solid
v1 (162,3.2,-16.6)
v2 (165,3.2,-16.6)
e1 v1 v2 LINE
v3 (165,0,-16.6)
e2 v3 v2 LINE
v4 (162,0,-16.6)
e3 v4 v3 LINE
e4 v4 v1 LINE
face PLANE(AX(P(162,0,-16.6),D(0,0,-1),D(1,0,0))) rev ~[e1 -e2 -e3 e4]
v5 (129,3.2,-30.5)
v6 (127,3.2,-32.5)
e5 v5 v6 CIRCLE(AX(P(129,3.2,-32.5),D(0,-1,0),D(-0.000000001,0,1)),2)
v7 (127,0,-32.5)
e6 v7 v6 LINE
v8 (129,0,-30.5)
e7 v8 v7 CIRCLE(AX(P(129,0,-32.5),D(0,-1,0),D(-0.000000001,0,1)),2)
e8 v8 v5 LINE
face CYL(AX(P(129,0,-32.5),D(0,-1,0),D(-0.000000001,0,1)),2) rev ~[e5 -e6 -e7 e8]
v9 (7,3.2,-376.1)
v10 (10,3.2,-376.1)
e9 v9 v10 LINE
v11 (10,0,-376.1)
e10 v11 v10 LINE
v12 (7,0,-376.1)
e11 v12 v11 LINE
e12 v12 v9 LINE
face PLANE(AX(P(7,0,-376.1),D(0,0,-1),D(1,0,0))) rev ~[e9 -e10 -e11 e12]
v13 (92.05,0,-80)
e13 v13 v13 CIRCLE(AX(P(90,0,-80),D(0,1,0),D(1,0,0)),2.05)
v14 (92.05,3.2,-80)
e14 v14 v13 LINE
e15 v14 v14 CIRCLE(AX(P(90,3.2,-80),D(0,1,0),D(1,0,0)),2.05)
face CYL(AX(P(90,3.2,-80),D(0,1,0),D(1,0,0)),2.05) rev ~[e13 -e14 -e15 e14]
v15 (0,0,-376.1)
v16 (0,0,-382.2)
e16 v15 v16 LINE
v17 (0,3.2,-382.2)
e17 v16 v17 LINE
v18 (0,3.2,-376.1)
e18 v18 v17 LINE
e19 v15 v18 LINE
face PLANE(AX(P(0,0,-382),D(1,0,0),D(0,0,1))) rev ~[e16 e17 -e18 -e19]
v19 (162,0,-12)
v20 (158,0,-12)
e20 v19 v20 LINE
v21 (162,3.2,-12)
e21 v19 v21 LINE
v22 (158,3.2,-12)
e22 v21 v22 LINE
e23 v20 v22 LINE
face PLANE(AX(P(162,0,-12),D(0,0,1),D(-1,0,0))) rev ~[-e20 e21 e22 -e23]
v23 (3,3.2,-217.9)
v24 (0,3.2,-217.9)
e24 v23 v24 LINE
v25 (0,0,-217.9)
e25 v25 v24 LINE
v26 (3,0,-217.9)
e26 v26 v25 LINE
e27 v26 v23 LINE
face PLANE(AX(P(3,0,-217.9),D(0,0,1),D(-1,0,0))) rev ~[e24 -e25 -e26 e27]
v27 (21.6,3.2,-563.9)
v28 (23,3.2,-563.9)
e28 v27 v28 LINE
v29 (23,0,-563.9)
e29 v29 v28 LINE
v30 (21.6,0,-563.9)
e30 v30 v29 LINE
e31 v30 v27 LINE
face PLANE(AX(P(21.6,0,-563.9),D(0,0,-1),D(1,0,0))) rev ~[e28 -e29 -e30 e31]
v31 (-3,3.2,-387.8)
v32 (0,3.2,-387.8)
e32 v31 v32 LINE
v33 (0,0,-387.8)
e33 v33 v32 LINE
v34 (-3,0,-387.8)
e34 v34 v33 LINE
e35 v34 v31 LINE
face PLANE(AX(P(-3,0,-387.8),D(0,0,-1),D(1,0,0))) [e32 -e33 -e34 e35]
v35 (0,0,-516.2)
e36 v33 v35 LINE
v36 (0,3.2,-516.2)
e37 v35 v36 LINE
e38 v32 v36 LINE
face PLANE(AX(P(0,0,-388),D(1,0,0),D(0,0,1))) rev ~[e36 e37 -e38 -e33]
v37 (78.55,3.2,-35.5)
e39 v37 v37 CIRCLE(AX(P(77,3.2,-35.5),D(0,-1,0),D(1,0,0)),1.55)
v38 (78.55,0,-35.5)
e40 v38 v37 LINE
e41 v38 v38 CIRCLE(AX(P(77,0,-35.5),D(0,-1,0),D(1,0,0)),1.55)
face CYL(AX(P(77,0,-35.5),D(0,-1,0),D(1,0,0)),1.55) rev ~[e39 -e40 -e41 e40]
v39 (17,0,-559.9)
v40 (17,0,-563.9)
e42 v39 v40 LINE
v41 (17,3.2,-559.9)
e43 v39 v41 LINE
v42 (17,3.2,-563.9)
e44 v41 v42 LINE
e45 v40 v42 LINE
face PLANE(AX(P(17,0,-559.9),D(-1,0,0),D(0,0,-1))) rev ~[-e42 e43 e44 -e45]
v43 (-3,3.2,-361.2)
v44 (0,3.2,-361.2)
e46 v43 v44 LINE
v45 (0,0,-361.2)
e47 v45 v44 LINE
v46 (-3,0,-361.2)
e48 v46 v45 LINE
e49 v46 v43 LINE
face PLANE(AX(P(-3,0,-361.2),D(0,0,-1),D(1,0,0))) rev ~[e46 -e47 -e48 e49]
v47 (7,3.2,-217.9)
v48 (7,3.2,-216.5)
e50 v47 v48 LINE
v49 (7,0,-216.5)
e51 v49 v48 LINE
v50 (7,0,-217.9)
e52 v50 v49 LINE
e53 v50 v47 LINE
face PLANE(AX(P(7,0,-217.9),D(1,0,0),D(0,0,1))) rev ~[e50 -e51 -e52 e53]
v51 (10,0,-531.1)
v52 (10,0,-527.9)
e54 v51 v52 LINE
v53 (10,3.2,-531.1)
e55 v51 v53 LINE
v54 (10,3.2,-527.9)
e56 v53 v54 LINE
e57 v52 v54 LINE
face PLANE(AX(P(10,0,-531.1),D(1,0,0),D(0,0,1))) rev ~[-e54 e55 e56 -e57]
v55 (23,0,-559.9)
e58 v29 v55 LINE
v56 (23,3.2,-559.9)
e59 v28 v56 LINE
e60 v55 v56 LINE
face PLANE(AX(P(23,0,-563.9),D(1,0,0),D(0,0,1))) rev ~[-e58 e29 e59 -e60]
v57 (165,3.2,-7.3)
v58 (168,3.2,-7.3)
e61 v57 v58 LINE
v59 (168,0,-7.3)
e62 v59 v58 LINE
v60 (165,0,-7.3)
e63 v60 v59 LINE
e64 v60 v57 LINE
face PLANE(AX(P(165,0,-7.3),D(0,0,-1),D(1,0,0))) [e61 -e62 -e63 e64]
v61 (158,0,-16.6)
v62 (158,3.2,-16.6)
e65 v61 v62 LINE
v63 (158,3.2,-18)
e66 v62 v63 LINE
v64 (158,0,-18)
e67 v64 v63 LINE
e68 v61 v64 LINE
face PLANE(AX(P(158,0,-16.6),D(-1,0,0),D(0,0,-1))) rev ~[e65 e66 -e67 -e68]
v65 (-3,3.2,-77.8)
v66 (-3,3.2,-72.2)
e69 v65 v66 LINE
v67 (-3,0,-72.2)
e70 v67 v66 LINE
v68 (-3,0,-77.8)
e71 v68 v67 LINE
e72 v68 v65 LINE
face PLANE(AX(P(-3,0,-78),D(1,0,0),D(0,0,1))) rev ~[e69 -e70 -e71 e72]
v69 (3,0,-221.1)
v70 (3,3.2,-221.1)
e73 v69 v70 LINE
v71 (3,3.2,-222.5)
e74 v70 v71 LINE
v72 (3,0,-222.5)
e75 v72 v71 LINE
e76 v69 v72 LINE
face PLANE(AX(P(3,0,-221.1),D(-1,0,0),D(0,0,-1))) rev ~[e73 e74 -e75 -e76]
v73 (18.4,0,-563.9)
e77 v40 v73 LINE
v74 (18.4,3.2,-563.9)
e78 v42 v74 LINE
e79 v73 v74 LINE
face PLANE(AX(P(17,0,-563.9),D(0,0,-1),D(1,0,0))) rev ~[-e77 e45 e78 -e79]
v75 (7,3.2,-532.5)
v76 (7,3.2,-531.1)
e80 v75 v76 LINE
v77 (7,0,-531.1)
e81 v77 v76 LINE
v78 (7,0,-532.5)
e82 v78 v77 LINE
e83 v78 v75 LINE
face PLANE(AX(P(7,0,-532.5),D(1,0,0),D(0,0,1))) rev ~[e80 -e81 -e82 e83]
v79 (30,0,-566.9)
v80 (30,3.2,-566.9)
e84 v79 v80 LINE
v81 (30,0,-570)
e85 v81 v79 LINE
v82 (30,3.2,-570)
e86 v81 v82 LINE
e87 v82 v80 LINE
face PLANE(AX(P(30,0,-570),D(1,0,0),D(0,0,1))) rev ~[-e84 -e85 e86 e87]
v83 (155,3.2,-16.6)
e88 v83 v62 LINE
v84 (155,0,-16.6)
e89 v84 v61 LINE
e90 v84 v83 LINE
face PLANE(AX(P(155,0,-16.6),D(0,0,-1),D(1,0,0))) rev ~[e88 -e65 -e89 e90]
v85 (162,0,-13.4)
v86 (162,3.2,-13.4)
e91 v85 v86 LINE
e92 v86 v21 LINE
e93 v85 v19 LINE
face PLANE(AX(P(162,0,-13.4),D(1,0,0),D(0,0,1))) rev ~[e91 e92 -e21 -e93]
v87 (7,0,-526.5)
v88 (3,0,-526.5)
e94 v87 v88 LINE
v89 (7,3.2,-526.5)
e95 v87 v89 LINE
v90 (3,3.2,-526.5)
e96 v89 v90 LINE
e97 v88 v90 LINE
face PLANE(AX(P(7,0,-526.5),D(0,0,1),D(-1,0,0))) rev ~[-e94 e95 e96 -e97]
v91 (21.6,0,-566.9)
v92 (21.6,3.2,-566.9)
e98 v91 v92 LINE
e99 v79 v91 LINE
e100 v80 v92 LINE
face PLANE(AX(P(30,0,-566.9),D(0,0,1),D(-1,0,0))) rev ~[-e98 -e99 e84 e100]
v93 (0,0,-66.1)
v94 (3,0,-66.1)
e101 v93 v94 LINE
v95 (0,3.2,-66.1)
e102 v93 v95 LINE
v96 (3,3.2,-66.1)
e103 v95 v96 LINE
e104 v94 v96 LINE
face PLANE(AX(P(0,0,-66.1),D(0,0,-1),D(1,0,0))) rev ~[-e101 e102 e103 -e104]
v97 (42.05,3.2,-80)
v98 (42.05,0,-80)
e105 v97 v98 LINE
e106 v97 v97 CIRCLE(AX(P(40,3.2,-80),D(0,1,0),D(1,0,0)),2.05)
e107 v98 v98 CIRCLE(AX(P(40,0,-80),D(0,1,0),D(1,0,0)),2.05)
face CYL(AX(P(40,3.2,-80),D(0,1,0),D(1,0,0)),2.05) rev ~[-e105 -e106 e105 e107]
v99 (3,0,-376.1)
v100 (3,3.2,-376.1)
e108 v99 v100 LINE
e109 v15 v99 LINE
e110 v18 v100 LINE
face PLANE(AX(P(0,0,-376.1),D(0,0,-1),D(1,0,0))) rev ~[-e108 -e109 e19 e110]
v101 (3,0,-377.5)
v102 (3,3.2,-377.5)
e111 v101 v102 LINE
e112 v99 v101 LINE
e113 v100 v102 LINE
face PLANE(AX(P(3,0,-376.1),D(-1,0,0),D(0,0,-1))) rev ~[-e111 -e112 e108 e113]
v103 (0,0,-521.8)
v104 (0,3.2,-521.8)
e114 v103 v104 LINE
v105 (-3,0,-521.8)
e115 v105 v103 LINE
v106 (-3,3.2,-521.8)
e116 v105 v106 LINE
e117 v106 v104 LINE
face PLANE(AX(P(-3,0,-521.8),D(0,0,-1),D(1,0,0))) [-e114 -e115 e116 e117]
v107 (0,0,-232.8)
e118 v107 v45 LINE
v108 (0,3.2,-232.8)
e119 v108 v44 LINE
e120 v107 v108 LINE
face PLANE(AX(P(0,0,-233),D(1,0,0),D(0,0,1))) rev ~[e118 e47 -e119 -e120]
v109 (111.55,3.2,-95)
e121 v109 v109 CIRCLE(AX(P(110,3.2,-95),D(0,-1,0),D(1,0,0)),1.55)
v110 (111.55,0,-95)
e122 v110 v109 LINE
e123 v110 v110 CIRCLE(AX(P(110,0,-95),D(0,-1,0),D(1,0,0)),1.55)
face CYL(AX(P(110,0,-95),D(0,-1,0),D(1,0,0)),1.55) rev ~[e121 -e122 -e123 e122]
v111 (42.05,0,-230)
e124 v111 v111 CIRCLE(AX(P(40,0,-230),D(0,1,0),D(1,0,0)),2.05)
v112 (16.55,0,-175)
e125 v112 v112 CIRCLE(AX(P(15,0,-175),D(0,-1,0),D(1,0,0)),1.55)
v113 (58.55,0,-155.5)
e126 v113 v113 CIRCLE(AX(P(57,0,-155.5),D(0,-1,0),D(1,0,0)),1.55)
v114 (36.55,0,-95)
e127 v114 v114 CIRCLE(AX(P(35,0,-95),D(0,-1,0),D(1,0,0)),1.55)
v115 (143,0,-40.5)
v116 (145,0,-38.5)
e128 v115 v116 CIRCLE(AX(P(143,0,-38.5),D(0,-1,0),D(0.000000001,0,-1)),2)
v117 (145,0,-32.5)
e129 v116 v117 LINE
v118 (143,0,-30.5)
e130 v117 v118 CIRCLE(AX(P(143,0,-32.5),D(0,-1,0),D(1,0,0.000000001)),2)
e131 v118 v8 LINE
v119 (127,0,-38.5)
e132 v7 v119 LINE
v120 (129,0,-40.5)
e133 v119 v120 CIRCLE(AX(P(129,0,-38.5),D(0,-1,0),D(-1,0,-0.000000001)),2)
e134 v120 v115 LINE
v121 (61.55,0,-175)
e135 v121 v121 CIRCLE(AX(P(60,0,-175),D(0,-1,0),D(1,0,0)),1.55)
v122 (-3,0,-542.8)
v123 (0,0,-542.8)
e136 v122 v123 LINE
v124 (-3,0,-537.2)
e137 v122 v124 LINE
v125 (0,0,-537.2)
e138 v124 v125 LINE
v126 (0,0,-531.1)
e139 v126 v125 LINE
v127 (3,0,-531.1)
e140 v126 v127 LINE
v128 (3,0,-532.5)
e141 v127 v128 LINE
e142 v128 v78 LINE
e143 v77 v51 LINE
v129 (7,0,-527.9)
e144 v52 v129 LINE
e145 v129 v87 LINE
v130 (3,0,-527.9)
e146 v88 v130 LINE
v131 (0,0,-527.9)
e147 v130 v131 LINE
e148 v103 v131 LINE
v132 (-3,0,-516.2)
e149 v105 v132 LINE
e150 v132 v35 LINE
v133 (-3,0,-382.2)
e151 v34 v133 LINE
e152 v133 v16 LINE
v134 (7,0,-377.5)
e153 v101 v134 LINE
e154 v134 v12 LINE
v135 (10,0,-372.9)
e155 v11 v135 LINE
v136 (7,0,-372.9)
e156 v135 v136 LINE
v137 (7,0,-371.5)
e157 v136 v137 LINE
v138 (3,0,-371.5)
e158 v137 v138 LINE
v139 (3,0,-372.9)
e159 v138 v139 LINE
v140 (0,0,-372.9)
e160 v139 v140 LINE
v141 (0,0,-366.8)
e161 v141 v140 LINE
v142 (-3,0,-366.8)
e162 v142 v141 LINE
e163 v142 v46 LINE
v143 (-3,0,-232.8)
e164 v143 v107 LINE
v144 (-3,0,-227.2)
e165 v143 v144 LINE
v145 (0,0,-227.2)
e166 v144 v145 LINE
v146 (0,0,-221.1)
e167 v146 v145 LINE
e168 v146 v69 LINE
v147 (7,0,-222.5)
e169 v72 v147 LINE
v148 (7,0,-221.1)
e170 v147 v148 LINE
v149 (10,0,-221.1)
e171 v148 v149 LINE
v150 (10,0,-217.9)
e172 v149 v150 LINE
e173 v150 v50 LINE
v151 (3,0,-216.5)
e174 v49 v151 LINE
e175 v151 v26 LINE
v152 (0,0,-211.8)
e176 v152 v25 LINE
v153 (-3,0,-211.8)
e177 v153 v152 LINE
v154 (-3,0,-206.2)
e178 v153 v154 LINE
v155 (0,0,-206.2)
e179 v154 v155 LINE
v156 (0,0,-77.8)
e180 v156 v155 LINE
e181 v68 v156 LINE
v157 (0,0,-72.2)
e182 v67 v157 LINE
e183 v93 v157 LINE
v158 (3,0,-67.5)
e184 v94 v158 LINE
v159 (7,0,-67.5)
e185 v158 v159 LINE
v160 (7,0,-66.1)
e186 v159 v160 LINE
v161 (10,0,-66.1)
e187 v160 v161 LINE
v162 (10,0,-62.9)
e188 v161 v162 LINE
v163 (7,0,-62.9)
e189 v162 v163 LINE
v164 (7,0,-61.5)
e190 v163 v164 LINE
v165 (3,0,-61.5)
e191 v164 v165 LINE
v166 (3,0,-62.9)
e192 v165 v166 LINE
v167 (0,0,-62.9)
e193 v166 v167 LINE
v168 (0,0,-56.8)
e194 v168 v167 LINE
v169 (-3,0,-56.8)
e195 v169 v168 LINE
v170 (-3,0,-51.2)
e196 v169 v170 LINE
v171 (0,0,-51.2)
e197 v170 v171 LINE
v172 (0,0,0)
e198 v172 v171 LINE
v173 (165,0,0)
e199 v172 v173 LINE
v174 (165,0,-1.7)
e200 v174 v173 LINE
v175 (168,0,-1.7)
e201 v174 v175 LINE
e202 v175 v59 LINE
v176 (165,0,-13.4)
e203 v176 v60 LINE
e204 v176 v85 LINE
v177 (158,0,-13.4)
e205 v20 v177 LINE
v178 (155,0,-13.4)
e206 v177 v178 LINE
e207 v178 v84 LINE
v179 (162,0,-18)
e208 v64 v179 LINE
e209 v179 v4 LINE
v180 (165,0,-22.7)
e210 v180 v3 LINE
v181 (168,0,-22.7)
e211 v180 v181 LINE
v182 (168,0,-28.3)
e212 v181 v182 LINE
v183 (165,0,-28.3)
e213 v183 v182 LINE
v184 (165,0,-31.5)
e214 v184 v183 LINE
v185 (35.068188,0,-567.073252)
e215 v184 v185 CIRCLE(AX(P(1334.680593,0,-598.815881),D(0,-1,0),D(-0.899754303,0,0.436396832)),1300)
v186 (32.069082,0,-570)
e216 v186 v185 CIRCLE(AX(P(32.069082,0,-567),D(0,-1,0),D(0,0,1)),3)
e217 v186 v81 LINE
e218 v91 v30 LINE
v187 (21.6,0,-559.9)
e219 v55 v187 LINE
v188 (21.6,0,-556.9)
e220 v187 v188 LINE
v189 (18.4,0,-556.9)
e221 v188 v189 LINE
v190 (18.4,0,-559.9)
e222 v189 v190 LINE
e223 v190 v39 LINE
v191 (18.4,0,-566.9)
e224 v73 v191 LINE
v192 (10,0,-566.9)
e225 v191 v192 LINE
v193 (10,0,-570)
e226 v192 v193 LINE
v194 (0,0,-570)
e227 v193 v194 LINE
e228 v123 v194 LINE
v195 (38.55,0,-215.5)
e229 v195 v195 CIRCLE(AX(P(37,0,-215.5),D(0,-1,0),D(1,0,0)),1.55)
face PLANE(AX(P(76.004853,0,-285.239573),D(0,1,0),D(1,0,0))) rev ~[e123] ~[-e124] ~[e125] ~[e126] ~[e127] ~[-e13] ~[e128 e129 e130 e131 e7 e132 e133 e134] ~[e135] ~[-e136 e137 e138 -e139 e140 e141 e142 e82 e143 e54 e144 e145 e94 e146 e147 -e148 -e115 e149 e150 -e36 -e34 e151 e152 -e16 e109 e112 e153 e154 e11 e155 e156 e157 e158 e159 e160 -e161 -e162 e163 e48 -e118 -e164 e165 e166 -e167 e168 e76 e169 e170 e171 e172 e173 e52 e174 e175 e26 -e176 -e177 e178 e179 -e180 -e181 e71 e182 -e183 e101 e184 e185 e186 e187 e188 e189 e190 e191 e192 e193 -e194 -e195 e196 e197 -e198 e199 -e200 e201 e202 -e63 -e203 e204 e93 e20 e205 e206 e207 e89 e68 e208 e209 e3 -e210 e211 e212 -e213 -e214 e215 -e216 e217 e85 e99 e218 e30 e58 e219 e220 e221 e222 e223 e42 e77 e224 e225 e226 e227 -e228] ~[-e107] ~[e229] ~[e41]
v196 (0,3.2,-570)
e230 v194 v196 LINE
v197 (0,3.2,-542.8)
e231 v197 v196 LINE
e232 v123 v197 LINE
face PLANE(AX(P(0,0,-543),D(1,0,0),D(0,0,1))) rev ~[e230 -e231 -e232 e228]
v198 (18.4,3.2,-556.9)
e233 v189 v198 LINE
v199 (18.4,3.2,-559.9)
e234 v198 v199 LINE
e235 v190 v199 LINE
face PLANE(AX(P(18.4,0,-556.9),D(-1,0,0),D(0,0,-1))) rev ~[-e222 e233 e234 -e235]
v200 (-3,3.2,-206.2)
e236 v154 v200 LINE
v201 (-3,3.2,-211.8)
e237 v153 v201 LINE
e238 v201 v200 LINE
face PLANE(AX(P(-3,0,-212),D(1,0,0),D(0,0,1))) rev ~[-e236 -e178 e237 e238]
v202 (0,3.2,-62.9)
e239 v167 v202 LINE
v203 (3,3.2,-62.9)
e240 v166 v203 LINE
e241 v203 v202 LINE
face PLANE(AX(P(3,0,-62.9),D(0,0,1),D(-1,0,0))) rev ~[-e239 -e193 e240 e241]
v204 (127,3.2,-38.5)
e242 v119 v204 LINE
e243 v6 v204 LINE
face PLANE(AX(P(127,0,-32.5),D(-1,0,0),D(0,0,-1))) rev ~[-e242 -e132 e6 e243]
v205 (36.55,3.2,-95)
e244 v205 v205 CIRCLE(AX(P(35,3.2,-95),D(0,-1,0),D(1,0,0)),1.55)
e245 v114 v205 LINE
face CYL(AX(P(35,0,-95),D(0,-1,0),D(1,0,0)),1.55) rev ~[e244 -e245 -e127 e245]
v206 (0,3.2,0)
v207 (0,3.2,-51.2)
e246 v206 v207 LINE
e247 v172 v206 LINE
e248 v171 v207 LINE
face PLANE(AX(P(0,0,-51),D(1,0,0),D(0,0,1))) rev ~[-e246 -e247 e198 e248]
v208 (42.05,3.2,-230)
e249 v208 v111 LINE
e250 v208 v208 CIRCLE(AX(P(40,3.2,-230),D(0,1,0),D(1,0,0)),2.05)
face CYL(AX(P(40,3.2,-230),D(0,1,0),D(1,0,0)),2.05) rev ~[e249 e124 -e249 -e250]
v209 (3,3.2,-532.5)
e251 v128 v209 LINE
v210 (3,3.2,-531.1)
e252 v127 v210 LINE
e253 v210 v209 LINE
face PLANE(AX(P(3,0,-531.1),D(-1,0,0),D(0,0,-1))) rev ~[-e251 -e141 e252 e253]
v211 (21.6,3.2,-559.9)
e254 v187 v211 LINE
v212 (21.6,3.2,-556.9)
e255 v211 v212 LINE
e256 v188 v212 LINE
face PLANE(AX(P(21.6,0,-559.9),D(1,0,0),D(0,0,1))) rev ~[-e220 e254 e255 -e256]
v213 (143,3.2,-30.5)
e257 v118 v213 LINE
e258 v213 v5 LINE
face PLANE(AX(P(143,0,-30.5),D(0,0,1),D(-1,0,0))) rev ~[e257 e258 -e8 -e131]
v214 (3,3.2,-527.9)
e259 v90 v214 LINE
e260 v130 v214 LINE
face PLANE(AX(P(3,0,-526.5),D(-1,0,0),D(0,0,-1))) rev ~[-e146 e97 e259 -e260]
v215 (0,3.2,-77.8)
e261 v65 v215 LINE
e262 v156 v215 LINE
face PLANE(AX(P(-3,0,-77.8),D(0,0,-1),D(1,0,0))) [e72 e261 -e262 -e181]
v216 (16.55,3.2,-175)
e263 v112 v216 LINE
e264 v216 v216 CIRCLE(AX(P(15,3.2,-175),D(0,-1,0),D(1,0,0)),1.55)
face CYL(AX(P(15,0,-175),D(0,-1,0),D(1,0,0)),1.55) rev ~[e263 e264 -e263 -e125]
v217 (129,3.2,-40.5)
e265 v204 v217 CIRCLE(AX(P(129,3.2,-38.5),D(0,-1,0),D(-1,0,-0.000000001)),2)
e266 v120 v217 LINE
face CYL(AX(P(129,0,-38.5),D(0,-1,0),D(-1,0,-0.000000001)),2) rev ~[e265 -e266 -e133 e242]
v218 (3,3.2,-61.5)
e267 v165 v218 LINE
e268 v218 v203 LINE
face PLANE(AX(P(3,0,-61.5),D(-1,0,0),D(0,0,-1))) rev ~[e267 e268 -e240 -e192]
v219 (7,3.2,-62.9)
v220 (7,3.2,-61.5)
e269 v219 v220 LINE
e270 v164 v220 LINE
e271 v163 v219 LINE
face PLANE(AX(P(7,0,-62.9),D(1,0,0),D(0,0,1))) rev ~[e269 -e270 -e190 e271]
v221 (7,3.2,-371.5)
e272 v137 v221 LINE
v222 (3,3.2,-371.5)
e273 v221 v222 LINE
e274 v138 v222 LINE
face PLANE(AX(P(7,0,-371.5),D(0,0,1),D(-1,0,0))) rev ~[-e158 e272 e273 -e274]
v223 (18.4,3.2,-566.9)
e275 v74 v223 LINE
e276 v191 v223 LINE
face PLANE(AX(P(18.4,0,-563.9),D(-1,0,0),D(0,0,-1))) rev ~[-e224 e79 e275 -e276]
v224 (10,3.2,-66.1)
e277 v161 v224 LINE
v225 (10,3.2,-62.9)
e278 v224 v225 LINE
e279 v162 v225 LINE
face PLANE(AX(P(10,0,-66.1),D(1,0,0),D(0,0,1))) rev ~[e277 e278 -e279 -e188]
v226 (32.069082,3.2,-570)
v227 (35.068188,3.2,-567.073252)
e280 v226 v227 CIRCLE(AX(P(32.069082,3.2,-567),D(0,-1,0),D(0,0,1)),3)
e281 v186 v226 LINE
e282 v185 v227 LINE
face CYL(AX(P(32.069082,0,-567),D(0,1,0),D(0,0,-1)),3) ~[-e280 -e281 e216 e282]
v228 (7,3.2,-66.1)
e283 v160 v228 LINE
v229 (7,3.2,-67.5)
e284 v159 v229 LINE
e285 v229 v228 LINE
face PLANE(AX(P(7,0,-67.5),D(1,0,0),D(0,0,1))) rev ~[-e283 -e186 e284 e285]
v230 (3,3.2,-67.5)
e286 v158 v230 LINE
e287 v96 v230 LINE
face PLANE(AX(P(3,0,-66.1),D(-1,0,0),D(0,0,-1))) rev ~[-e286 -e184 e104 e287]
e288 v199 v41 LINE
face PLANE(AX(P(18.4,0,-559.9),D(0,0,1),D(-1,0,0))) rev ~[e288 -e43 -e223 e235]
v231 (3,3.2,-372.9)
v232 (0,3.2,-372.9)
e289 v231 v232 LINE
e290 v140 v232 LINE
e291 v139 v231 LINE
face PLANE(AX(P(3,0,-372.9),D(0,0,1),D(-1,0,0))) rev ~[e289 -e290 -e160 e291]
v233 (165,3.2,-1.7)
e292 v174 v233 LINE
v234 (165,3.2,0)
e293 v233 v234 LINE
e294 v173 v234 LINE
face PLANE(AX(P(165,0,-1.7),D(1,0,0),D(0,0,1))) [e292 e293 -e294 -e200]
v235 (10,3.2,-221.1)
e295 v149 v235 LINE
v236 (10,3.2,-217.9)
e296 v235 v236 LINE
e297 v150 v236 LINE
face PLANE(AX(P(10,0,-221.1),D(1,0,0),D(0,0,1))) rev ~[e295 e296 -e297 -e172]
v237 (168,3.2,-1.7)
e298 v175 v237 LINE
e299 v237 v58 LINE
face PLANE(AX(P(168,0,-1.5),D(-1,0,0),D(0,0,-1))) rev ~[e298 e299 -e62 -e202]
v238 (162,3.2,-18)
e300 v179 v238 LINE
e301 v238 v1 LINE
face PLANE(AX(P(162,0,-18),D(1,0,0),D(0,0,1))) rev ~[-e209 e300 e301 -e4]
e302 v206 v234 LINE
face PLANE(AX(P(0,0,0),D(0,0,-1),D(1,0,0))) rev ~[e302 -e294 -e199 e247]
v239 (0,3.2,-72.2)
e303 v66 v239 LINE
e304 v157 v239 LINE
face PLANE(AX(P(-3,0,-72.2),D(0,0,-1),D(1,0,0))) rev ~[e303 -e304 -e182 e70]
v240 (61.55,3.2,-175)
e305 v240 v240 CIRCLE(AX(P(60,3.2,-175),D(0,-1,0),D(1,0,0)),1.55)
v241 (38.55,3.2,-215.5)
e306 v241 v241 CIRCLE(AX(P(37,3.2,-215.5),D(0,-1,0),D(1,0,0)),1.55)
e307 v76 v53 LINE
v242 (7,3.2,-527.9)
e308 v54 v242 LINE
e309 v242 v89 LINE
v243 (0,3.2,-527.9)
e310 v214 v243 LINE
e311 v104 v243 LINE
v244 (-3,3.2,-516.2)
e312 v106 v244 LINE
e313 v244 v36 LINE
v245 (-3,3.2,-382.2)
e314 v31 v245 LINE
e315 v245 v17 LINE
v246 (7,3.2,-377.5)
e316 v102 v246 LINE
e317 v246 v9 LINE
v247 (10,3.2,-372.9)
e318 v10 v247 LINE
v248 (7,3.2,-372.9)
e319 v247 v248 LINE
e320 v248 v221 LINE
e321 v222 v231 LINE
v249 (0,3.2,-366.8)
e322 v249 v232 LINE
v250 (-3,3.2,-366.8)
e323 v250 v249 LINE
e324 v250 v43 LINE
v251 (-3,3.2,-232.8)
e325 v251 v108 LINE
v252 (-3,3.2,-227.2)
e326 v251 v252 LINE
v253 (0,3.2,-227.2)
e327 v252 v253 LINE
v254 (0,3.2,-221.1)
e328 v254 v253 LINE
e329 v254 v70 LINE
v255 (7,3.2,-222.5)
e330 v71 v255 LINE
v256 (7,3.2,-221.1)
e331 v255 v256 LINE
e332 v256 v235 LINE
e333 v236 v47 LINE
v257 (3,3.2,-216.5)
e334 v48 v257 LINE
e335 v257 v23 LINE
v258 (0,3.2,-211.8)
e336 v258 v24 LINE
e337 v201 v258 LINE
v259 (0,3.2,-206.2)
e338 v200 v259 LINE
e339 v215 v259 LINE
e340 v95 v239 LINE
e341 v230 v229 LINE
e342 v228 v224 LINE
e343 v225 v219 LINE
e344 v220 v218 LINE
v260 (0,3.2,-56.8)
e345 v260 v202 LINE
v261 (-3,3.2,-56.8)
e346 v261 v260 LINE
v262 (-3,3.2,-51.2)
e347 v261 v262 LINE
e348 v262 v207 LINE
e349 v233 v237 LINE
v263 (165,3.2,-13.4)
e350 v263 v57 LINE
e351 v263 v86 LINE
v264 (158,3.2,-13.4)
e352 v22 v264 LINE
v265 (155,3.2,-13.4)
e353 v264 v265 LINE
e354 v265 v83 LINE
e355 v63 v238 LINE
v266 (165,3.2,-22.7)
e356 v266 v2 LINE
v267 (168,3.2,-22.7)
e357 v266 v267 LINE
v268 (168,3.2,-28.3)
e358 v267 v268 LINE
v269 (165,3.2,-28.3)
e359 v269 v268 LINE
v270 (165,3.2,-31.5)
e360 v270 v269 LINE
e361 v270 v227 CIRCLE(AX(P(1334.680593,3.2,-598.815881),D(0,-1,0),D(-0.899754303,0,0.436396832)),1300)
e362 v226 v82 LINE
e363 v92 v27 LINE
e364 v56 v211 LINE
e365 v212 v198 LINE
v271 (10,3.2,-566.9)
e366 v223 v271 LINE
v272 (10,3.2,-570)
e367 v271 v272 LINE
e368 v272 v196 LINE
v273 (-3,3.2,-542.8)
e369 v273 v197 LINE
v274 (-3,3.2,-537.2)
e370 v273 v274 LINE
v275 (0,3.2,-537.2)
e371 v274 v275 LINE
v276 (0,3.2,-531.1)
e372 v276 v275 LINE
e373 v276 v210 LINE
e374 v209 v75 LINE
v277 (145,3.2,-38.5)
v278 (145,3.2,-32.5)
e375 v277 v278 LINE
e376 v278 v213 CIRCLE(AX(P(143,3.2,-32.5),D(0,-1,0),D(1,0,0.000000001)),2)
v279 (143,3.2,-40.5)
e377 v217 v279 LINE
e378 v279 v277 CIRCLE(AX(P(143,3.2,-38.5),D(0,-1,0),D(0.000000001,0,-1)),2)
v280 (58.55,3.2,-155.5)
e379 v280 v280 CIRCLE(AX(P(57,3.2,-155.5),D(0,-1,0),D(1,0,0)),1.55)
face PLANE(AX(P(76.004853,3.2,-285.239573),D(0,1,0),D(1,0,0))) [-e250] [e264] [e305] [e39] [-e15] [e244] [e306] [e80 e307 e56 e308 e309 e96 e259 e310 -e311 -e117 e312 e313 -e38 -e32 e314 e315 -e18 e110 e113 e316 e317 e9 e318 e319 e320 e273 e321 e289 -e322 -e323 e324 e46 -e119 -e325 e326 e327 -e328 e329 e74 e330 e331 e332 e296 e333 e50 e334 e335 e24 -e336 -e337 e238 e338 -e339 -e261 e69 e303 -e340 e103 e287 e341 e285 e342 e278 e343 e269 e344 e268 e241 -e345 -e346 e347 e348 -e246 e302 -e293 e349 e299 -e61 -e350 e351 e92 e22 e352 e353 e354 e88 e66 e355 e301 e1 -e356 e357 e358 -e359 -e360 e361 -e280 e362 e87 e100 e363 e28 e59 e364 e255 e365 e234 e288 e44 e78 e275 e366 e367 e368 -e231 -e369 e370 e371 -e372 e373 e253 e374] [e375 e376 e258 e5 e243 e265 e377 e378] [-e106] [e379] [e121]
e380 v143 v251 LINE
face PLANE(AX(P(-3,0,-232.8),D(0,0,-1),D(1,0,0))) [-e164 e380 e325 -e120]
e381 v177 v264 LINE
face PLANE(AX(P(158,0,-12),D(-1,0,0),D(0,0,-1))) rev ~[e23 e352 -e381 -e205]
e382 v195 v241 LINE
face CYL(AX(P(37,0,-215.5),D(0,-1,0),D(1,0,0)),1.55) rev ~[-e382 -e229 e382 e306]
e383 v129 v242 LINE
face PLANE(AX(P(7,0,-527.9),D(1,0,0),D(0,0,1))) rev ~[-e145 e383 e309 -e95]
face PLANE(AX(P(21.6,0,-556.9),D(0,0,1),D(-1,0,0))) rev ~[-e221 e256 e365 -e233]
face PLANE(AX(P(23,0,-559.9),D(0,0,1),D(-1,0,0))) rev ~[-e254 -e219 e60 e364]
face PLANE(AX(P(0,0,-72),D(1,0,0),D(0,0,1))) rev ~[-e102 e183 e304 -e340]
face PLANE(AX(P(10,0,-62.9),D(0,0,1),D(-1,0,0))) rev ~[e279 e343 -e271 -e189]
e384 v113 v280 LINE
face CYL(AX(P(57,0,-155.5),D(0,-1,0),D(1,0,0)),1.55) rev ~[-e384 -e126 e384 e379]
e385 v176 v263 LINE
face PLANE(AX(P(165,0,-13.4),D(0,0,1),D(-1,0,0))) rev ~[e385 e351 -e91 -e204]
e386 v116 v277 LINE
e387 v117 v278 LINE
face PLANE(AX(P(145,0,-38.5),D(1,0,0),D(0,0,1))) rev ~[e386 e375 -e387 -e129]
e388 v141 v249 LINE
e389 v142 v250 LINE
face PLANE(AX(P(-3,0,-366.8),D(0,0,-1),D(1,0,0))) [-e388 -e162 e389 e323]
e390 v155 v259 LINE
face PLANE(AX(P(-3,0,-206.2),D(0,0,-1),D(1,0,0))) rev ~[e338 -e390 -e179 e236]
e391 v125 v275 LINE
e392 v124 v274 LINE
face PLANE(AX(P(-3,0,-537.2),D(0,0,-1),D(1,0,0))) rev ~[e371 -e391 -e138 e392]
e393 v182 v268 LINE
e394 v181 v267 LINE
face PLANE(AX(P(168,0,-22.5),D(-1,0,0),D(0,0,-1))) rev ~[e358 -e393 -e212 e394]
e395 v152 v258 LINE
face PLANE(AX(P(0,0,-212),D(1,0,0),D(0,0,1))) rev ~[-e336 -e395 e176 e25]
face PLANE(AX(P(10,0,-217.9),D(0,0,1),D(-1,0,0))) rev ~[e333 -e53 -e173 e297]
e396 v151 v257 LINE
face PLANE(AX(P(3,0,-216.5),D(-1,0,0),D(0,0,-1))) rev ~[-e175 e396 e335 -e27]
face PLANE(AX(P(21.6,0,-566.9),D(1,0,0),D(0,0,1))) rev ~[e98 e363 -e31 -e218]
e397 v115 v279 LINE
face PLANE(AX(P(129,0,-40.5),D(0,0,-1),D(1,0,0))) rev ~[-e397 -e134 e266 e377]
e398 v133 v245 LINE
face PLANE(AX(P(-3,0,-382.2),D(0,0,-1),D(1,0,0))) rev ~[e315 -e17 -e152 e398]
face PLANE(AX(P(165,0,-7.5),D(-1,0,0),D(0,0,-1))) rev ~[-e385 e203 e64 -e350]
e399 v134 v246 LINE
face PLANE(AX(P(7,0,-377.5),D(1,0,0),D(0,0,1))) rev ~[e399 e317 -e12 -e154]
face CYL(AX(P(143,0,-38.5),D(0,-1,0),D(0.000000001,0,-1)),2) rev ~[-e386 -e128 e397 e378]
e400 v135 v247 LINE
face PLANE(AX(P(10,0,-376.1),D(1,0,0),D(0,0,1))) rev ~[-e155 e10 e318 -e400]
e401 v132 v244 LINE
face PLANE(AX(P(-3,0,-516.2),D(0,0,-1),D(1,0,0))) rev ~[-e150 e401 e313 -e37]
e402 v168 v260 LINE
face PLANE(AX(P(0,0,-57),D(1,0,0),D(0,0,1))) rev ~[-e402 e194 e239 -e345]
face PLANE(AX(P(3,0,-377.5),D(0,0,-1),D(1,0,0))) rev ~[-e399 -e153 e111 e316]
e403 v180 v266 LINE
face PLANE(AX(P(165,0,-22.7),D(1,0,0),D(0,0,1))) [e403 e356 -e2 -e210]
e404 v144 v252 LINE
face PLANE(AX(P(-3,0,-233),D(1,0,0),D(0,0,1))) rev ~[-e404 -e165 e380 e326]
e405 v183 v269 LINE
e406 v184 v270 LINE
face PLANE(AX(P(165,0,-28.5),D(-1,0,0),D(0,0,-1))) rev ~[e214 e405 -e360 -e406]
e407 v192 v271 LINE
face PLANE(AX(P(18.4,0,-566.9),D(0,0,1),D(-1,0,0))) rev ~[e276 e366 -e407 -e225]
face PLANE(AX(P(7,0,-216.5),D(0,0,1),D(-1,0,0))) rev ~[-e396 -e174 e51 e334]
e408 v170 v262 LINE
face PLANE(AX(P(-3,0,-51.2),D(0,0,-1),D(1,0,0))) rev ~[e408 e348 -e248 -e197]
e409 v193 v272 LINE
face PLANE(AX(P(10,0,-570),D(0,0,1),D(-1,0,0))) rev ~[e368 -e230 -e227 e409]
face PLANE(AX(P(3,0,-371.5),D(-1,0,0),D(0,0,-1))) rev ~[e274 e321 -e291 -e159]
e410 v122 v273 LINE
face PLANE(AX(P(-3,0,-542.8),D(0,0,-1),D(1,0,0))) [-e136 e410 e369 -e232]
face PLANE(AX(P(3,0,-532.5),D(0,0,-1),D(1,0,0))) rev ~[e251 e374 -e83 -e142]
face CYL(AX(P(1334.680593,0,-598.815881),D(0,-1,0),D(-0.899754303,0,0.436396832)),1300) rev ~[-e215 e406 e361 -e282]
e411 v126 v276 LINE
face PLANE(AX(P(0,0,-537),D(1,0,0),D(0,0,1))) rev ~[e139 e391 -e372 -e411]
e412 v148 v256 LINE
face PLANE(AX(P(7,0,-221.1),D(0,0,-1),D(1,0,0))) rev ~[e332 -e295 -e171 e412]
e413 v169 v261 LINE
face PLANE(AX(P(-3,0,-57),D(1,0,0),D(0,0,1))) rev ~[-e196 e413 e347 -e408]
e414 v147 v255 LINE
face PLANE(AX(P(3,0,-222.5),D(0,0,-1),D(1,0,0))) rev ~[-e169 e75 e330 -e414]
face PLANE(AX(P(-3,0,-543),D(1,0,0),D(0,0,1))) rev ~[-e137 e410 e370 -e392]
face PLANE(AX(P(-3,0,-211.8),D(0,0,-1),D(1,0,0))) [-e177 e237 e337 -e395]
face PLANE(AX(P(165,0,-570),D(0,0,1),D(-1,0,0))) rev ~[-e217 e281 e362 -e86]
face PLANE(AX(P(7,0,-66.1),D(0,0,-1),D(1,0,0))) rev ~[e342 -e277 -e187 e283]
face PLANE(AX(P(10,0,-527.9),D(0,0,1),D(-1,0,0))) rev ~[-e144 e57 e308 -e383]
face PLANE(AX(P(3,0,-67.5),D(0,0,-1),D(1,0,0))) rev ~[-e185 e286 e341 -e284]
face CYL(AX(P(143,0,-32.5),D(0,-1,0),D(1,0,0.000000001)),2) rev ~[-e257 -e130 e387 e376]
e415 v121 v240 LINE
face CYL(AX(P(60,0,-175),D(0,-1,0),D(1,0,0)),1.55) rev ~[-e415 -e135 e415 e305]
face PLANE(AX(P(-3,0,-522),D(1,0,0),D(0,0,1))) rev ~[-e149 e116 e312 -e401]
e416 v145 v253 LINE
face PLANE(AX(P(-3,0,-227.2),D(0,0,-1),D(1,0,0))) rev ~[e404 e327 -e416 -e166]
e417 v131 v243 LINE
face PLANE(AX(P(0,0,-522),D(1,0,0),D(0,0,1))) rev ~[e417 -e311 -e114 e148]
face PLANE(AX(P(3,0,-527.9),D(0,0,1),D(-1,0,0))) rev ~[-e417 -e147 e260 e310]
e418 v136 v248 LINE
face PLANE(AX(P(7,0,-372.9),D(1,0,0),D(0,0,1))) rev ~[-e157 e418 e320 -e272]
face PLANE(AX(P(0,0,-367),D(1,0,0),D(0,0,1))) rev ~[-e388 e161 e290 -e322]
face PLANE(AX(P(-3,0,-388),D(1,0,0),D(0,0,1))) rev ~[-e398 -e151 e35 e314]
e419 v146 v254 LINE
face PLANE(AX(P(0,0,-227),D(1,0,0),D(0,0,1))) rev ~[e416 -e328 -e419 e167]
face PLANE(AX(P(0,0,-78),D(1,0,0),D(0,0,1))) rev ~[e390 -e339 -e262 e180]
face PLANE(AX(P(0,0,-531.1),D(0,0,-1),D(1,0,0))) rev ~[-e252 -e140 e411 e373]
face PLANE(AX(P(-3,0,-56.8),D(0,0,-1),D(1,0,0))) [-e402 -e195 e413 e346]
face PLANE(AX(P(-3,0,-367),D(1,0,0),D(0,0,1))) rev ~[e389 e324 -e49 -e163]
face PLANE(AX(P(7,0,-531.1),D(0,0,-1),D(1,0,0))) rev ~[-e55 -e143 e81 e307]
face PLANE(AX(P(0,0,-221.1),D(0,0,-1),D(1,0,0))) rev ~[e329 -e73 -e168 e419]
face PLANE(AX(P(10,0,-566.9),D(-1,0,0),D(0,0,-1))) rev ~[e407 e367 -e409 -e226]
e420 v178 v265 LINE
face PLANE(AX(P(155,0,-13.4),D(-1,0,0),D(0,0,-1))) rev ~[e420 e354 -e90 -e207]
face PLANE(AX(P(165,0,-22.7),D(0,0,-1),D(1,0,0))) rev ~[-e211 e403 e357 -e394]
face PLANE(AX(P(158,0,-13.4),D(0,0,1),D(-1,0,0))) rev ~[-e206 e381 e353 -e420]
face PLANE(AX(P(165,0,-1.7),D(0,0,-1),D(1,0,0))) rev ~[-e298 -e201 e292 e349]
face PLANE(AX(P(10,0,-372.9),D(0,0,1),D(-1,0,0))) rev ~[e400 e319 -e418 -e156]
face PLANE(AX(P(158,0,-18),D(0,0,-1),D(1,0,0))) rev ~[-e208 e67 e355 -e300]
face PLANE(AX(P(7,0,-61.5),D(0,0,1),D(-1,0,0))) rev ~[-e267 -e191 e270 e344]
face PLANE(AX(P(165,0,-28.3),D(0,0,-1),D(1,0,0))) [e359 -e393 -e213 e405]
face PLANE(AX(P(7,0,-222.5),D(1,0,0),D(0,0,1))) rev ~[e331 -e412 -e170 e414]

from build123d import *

# Parameters (mm, degrees)
SALIENTE_EXTRUIR1_DEPTH = 3.2
CROQUIS3_R              = 2.05
CORTAR_EXTRUIR2_DEPTH   = 3.2
CORTAR_EXTRUIR3_DEPTH   = 3.2
CORTAR_EXTRUIR4_DEPTH   = 3.2
REDONDEO1_R             = 3
CROQUIS6_R              = 1.55
CORTAR_EXTRUIR5_DEPTH   = 3.2
CROQUIS7_W              = 3
CROQUIS7_H              = 0.2
CORTAR_EXTRUIR6_DEPTH   = 3.2


with BuildPart() as part:
    # Croquis1 → Saliente-Extruir1 (new body)
    with BuildSketch(Plane(origin=(0, 0, 0), x_dir=(1, 0, 0), z_dir=(0, 1, 0))):
        Polygon((7, 66.1), (10, 66.1), (10, 62.9), (7, 62.9), (7, 61.5), (3, 61.5), (3, 62.9), (0, 62.9), (0, 57), (-3, 57), (-3, 51), (0, 51), (0, 0), (165, 0), (165, 1.5), (168, 1.5), (168, 7.5), (165, 7.5), (165, 13.4), (162, 13.4), (162, 12), (158, 12), (158, 13.4), (155, 13.4), (155, 16.6), (158, 16.6), (158, 18), (162, 18), (162, 16.6), (165, 16.6), (165, 22.5), (168, 22.5), (168, 28.5), (165, 28.5), (165, 570), (30, 570), (30, 566.9), (21.6, 566.9), (21.6, 563.9), (23, 563.9), (23, 559.9), (21.6, 559.9), (21.6, 556.9), (18.4, 556.9), (18.4, 559.9), (17, 559.9), (17, 563.9), (18.4, 563.9), (18.4, 566.9), (10, 566.9), (10, 570), (0, 570), (0, 543), (-3, 543), (-3, 537), (0, 537), (0, 531.1), (3, 531.1), (3, 532.5), (7, 532.5), (7, 531.1), (10, 531.1), (10, 527.9), (7, 527.9), (7, 526.5), (3, 526.5), (3, 527.9), (0, 527.9), (0, 522), (-3, 522), (-3, 516), (0, 516), (0, 388), (-3, 388), (-3, 382), (0, 382), (0, 376.1), (3, 376.1), (3, 377.5), (7, 377.5), (7, 376.1), (10, 376.1), (10, 372.9), (7, 372.9), (7, 371.5), (3, 371.5), (3, 372.9), (0, 372.9), (0, 367), (-3, 367), (-3, 361), (0, 361), (0, 233), (-3, 233), (-3, 227), (0, 227), (0, 221.1), (3, 221.1), (3, 222.5), (7, 222.5), (7, 221.1), (10, 221.1), (10, 217.9), (7, 217.9), (7, 216.5), (3, 216.5), (3, 217.9), (0, 217.9), (0, 212), (-3, 212), (-3, 206), (0, 206), (0, 78), (-3, 78), (-3, 72), (0, 72), (0, 66.1), (3, 66.1), (3, 67.5), (7, 67.5), align=None)
    extrude(amount=SALIENTE_EXTRUIR1_DEPTH)

    # Croquis3 → Cortar-Extruir2 (cut)
    with BuildSketch(Plane(origin=(0, 3.2, 0), x_dir=(1, 0, 0), z_dir=(0, 1, 0))):
        with Locations((40, 80)):
            Circle(CROQUIS3_R)
        with Locations((90, 80)):
            Circle(CROQUIS3_R)
        with Locations((40, 230)):
            Circle(CROQUIS3_R)
    extrude(amount=-CORTAR_EXTRUIR2_DEPTH, mode=Mode.SUBTRACT)

    # Croquis4 → Cortar-Extruir3 (cut)
    with BuildSketch(Plane.XZ):
        with BuildLine():
            Line((143, -30.5), (129, -30.5))
            ThreePointArc((129, -30.5), (127.585786438, -31.085786438), (127, -32.5))
            Line((127, -32.5), (127, -38.5))
            ThreePointArc((127, -38.5), (127.585786438, -39.914213562), (129, -40.5))
            Line((129, -40.5), (143, -40.5))
            ThreePointArc((143, -40.5), (144.414213562, -39.914213562), (145, -38.5))
            Line((145, -38.5), (145, -32.5))
            ThreePointArc((145, -32.5), (144.414213562, -31.085786438), (143, -30.5))
        make_face()
    extrude(amount=-CORTAR_EXTRUIR3_DEPTH, mode=Mode.SUBTRACT)

    # Croquis5 → Cortar-Extruir4 (cut)
    with BuildSketch(Plane.XZ):
        with BuildLine():
            Line((35, -570), (165, -570))
            Line((165, -570), (165, -31.5))
            ThreePointArc((165, -31.5), (70.982951471, -293.744955787), (35, -570))
        make_face()
    extrude(amount=-CORTAR_EXTRUIR4_DEPTH, mode=Mode.SUBTRACT)

    # Redondeo1
    redondeo1_edges = [part.edges().sort_by_distance(p)[0] for p in [
        (35, 1.6, -570),
    ]]
    fillet(redondeo1_edges, radius=REDONDEO1_R)

    # Croquis6 → Cortar-Extruir5 (cut)
    with BuildSketch(Plane.XZ):
        with Locations((110, -95)):
            Circle(CROQUIS6_R)
        with Locations((35, -95)):
            Circle(CROQUIS6_R)
        with Locations((60, -175)):
            Circle(CROQUIS6_R)
        with Locations((15, -175)):
            Circle(CROQUIS6_R)
        with Locations((77, -35.5)):
            Circle(CROQUIS6_R)
        with Locations((37, -215.5)):
            Circle(CROQUIS6_R)
        with Locations((57, -155.5)):
            Circle(CROQUIS6_R)
    extrude(amount=-CORTAR_EXTRUIR5_DEPTH, mode=Mode.SUBTRACT)

    # Croquis7 → Cortar-Extruir6 (cut)
    with BuildSketch(Plane.XZ):
        with Locations((-1.5, -542.9)):
            Rectangle(CROQUIS7_W, CROQUIS7_H)
        with Locations((-1.5, -537.1)):
            Rectangle(CROQUIS7_W, CROQUIS7_H)
        with Locations((-1.5, -521.9)):
            Rectangle(CROQUIS7_W, CROQUIS7_H)
        with Locations((-1.5, -516.1)):
            Rectangle(CROQUIS7_W, CROQUIS7_H)
        with Locations((-1.5, -387.9)):
            Rectangle(CROQUIS7_W, CROQUIS7_H)
        with Locations((-1.5, -382.1)):
            Rectangle(CROQUIS7_W, CROQUIS7_H)
        with Locations((-1.5, -366.9)):
            Rectangle(CROQUIS7_W, CROQUIS7_H)
        with Locations((-1.5, -361.1)):
            Rectangle(CROQUIS7_W, CROQUIS7_H)
        with Locations((-1.5, -232.9)):
            Rectangle(CROQUIS7_W, CROQUIS7_H)
        with Locations((-1.5, -227.1)):
            Rectangle(CROQUIS7_W, CROQUIS7_H)
        with Locations((-1.5, -211.9)):
            Rectangle(CROQUIS7_W, CROQUIS7_H)
        with Locations((-1.5, -206.1)):
            Rectangle(CROQUIS7_W, CROQUIS7_H)
        with Locations((-1.5, -77.9)):
            Rectangle(CROQUIS7_W, CROQUIS7_H)
        with Locations((-1.5, -72.1)):
            Rectangle(CROQUIS7_W, CROQUIS7_H)
        with Locations((-1.5, -51.1)):
            Rectangle(CROQUIS7_W, CROQUIS7_H)
        with Locations((-1.5, -56.9)):
            Rectangle(CROQUIS7_W, CROQUIS7_H)
        with Locations((166.5, -28.4)):
            Rectangle(CROQUIS7_W, CROQUIS7_H)
        with Locations((166.5, -22.6)):
            Rectangle(CROQUIS7_W, CROQUIS7_H)
        with Locations((166.5, -7.4)):
            Rectangle(CROQUIS7_W, CROQUIS7_H)
        with Locations((166.5, -1.6)):
            Rectangle(CROQUIS7_W, CROQUIS7_H)
    extrude(amount=-CORTAR_EXTRUIR6_DEPTH, mode=Mode.SUBTRACT)


solid = part.part
